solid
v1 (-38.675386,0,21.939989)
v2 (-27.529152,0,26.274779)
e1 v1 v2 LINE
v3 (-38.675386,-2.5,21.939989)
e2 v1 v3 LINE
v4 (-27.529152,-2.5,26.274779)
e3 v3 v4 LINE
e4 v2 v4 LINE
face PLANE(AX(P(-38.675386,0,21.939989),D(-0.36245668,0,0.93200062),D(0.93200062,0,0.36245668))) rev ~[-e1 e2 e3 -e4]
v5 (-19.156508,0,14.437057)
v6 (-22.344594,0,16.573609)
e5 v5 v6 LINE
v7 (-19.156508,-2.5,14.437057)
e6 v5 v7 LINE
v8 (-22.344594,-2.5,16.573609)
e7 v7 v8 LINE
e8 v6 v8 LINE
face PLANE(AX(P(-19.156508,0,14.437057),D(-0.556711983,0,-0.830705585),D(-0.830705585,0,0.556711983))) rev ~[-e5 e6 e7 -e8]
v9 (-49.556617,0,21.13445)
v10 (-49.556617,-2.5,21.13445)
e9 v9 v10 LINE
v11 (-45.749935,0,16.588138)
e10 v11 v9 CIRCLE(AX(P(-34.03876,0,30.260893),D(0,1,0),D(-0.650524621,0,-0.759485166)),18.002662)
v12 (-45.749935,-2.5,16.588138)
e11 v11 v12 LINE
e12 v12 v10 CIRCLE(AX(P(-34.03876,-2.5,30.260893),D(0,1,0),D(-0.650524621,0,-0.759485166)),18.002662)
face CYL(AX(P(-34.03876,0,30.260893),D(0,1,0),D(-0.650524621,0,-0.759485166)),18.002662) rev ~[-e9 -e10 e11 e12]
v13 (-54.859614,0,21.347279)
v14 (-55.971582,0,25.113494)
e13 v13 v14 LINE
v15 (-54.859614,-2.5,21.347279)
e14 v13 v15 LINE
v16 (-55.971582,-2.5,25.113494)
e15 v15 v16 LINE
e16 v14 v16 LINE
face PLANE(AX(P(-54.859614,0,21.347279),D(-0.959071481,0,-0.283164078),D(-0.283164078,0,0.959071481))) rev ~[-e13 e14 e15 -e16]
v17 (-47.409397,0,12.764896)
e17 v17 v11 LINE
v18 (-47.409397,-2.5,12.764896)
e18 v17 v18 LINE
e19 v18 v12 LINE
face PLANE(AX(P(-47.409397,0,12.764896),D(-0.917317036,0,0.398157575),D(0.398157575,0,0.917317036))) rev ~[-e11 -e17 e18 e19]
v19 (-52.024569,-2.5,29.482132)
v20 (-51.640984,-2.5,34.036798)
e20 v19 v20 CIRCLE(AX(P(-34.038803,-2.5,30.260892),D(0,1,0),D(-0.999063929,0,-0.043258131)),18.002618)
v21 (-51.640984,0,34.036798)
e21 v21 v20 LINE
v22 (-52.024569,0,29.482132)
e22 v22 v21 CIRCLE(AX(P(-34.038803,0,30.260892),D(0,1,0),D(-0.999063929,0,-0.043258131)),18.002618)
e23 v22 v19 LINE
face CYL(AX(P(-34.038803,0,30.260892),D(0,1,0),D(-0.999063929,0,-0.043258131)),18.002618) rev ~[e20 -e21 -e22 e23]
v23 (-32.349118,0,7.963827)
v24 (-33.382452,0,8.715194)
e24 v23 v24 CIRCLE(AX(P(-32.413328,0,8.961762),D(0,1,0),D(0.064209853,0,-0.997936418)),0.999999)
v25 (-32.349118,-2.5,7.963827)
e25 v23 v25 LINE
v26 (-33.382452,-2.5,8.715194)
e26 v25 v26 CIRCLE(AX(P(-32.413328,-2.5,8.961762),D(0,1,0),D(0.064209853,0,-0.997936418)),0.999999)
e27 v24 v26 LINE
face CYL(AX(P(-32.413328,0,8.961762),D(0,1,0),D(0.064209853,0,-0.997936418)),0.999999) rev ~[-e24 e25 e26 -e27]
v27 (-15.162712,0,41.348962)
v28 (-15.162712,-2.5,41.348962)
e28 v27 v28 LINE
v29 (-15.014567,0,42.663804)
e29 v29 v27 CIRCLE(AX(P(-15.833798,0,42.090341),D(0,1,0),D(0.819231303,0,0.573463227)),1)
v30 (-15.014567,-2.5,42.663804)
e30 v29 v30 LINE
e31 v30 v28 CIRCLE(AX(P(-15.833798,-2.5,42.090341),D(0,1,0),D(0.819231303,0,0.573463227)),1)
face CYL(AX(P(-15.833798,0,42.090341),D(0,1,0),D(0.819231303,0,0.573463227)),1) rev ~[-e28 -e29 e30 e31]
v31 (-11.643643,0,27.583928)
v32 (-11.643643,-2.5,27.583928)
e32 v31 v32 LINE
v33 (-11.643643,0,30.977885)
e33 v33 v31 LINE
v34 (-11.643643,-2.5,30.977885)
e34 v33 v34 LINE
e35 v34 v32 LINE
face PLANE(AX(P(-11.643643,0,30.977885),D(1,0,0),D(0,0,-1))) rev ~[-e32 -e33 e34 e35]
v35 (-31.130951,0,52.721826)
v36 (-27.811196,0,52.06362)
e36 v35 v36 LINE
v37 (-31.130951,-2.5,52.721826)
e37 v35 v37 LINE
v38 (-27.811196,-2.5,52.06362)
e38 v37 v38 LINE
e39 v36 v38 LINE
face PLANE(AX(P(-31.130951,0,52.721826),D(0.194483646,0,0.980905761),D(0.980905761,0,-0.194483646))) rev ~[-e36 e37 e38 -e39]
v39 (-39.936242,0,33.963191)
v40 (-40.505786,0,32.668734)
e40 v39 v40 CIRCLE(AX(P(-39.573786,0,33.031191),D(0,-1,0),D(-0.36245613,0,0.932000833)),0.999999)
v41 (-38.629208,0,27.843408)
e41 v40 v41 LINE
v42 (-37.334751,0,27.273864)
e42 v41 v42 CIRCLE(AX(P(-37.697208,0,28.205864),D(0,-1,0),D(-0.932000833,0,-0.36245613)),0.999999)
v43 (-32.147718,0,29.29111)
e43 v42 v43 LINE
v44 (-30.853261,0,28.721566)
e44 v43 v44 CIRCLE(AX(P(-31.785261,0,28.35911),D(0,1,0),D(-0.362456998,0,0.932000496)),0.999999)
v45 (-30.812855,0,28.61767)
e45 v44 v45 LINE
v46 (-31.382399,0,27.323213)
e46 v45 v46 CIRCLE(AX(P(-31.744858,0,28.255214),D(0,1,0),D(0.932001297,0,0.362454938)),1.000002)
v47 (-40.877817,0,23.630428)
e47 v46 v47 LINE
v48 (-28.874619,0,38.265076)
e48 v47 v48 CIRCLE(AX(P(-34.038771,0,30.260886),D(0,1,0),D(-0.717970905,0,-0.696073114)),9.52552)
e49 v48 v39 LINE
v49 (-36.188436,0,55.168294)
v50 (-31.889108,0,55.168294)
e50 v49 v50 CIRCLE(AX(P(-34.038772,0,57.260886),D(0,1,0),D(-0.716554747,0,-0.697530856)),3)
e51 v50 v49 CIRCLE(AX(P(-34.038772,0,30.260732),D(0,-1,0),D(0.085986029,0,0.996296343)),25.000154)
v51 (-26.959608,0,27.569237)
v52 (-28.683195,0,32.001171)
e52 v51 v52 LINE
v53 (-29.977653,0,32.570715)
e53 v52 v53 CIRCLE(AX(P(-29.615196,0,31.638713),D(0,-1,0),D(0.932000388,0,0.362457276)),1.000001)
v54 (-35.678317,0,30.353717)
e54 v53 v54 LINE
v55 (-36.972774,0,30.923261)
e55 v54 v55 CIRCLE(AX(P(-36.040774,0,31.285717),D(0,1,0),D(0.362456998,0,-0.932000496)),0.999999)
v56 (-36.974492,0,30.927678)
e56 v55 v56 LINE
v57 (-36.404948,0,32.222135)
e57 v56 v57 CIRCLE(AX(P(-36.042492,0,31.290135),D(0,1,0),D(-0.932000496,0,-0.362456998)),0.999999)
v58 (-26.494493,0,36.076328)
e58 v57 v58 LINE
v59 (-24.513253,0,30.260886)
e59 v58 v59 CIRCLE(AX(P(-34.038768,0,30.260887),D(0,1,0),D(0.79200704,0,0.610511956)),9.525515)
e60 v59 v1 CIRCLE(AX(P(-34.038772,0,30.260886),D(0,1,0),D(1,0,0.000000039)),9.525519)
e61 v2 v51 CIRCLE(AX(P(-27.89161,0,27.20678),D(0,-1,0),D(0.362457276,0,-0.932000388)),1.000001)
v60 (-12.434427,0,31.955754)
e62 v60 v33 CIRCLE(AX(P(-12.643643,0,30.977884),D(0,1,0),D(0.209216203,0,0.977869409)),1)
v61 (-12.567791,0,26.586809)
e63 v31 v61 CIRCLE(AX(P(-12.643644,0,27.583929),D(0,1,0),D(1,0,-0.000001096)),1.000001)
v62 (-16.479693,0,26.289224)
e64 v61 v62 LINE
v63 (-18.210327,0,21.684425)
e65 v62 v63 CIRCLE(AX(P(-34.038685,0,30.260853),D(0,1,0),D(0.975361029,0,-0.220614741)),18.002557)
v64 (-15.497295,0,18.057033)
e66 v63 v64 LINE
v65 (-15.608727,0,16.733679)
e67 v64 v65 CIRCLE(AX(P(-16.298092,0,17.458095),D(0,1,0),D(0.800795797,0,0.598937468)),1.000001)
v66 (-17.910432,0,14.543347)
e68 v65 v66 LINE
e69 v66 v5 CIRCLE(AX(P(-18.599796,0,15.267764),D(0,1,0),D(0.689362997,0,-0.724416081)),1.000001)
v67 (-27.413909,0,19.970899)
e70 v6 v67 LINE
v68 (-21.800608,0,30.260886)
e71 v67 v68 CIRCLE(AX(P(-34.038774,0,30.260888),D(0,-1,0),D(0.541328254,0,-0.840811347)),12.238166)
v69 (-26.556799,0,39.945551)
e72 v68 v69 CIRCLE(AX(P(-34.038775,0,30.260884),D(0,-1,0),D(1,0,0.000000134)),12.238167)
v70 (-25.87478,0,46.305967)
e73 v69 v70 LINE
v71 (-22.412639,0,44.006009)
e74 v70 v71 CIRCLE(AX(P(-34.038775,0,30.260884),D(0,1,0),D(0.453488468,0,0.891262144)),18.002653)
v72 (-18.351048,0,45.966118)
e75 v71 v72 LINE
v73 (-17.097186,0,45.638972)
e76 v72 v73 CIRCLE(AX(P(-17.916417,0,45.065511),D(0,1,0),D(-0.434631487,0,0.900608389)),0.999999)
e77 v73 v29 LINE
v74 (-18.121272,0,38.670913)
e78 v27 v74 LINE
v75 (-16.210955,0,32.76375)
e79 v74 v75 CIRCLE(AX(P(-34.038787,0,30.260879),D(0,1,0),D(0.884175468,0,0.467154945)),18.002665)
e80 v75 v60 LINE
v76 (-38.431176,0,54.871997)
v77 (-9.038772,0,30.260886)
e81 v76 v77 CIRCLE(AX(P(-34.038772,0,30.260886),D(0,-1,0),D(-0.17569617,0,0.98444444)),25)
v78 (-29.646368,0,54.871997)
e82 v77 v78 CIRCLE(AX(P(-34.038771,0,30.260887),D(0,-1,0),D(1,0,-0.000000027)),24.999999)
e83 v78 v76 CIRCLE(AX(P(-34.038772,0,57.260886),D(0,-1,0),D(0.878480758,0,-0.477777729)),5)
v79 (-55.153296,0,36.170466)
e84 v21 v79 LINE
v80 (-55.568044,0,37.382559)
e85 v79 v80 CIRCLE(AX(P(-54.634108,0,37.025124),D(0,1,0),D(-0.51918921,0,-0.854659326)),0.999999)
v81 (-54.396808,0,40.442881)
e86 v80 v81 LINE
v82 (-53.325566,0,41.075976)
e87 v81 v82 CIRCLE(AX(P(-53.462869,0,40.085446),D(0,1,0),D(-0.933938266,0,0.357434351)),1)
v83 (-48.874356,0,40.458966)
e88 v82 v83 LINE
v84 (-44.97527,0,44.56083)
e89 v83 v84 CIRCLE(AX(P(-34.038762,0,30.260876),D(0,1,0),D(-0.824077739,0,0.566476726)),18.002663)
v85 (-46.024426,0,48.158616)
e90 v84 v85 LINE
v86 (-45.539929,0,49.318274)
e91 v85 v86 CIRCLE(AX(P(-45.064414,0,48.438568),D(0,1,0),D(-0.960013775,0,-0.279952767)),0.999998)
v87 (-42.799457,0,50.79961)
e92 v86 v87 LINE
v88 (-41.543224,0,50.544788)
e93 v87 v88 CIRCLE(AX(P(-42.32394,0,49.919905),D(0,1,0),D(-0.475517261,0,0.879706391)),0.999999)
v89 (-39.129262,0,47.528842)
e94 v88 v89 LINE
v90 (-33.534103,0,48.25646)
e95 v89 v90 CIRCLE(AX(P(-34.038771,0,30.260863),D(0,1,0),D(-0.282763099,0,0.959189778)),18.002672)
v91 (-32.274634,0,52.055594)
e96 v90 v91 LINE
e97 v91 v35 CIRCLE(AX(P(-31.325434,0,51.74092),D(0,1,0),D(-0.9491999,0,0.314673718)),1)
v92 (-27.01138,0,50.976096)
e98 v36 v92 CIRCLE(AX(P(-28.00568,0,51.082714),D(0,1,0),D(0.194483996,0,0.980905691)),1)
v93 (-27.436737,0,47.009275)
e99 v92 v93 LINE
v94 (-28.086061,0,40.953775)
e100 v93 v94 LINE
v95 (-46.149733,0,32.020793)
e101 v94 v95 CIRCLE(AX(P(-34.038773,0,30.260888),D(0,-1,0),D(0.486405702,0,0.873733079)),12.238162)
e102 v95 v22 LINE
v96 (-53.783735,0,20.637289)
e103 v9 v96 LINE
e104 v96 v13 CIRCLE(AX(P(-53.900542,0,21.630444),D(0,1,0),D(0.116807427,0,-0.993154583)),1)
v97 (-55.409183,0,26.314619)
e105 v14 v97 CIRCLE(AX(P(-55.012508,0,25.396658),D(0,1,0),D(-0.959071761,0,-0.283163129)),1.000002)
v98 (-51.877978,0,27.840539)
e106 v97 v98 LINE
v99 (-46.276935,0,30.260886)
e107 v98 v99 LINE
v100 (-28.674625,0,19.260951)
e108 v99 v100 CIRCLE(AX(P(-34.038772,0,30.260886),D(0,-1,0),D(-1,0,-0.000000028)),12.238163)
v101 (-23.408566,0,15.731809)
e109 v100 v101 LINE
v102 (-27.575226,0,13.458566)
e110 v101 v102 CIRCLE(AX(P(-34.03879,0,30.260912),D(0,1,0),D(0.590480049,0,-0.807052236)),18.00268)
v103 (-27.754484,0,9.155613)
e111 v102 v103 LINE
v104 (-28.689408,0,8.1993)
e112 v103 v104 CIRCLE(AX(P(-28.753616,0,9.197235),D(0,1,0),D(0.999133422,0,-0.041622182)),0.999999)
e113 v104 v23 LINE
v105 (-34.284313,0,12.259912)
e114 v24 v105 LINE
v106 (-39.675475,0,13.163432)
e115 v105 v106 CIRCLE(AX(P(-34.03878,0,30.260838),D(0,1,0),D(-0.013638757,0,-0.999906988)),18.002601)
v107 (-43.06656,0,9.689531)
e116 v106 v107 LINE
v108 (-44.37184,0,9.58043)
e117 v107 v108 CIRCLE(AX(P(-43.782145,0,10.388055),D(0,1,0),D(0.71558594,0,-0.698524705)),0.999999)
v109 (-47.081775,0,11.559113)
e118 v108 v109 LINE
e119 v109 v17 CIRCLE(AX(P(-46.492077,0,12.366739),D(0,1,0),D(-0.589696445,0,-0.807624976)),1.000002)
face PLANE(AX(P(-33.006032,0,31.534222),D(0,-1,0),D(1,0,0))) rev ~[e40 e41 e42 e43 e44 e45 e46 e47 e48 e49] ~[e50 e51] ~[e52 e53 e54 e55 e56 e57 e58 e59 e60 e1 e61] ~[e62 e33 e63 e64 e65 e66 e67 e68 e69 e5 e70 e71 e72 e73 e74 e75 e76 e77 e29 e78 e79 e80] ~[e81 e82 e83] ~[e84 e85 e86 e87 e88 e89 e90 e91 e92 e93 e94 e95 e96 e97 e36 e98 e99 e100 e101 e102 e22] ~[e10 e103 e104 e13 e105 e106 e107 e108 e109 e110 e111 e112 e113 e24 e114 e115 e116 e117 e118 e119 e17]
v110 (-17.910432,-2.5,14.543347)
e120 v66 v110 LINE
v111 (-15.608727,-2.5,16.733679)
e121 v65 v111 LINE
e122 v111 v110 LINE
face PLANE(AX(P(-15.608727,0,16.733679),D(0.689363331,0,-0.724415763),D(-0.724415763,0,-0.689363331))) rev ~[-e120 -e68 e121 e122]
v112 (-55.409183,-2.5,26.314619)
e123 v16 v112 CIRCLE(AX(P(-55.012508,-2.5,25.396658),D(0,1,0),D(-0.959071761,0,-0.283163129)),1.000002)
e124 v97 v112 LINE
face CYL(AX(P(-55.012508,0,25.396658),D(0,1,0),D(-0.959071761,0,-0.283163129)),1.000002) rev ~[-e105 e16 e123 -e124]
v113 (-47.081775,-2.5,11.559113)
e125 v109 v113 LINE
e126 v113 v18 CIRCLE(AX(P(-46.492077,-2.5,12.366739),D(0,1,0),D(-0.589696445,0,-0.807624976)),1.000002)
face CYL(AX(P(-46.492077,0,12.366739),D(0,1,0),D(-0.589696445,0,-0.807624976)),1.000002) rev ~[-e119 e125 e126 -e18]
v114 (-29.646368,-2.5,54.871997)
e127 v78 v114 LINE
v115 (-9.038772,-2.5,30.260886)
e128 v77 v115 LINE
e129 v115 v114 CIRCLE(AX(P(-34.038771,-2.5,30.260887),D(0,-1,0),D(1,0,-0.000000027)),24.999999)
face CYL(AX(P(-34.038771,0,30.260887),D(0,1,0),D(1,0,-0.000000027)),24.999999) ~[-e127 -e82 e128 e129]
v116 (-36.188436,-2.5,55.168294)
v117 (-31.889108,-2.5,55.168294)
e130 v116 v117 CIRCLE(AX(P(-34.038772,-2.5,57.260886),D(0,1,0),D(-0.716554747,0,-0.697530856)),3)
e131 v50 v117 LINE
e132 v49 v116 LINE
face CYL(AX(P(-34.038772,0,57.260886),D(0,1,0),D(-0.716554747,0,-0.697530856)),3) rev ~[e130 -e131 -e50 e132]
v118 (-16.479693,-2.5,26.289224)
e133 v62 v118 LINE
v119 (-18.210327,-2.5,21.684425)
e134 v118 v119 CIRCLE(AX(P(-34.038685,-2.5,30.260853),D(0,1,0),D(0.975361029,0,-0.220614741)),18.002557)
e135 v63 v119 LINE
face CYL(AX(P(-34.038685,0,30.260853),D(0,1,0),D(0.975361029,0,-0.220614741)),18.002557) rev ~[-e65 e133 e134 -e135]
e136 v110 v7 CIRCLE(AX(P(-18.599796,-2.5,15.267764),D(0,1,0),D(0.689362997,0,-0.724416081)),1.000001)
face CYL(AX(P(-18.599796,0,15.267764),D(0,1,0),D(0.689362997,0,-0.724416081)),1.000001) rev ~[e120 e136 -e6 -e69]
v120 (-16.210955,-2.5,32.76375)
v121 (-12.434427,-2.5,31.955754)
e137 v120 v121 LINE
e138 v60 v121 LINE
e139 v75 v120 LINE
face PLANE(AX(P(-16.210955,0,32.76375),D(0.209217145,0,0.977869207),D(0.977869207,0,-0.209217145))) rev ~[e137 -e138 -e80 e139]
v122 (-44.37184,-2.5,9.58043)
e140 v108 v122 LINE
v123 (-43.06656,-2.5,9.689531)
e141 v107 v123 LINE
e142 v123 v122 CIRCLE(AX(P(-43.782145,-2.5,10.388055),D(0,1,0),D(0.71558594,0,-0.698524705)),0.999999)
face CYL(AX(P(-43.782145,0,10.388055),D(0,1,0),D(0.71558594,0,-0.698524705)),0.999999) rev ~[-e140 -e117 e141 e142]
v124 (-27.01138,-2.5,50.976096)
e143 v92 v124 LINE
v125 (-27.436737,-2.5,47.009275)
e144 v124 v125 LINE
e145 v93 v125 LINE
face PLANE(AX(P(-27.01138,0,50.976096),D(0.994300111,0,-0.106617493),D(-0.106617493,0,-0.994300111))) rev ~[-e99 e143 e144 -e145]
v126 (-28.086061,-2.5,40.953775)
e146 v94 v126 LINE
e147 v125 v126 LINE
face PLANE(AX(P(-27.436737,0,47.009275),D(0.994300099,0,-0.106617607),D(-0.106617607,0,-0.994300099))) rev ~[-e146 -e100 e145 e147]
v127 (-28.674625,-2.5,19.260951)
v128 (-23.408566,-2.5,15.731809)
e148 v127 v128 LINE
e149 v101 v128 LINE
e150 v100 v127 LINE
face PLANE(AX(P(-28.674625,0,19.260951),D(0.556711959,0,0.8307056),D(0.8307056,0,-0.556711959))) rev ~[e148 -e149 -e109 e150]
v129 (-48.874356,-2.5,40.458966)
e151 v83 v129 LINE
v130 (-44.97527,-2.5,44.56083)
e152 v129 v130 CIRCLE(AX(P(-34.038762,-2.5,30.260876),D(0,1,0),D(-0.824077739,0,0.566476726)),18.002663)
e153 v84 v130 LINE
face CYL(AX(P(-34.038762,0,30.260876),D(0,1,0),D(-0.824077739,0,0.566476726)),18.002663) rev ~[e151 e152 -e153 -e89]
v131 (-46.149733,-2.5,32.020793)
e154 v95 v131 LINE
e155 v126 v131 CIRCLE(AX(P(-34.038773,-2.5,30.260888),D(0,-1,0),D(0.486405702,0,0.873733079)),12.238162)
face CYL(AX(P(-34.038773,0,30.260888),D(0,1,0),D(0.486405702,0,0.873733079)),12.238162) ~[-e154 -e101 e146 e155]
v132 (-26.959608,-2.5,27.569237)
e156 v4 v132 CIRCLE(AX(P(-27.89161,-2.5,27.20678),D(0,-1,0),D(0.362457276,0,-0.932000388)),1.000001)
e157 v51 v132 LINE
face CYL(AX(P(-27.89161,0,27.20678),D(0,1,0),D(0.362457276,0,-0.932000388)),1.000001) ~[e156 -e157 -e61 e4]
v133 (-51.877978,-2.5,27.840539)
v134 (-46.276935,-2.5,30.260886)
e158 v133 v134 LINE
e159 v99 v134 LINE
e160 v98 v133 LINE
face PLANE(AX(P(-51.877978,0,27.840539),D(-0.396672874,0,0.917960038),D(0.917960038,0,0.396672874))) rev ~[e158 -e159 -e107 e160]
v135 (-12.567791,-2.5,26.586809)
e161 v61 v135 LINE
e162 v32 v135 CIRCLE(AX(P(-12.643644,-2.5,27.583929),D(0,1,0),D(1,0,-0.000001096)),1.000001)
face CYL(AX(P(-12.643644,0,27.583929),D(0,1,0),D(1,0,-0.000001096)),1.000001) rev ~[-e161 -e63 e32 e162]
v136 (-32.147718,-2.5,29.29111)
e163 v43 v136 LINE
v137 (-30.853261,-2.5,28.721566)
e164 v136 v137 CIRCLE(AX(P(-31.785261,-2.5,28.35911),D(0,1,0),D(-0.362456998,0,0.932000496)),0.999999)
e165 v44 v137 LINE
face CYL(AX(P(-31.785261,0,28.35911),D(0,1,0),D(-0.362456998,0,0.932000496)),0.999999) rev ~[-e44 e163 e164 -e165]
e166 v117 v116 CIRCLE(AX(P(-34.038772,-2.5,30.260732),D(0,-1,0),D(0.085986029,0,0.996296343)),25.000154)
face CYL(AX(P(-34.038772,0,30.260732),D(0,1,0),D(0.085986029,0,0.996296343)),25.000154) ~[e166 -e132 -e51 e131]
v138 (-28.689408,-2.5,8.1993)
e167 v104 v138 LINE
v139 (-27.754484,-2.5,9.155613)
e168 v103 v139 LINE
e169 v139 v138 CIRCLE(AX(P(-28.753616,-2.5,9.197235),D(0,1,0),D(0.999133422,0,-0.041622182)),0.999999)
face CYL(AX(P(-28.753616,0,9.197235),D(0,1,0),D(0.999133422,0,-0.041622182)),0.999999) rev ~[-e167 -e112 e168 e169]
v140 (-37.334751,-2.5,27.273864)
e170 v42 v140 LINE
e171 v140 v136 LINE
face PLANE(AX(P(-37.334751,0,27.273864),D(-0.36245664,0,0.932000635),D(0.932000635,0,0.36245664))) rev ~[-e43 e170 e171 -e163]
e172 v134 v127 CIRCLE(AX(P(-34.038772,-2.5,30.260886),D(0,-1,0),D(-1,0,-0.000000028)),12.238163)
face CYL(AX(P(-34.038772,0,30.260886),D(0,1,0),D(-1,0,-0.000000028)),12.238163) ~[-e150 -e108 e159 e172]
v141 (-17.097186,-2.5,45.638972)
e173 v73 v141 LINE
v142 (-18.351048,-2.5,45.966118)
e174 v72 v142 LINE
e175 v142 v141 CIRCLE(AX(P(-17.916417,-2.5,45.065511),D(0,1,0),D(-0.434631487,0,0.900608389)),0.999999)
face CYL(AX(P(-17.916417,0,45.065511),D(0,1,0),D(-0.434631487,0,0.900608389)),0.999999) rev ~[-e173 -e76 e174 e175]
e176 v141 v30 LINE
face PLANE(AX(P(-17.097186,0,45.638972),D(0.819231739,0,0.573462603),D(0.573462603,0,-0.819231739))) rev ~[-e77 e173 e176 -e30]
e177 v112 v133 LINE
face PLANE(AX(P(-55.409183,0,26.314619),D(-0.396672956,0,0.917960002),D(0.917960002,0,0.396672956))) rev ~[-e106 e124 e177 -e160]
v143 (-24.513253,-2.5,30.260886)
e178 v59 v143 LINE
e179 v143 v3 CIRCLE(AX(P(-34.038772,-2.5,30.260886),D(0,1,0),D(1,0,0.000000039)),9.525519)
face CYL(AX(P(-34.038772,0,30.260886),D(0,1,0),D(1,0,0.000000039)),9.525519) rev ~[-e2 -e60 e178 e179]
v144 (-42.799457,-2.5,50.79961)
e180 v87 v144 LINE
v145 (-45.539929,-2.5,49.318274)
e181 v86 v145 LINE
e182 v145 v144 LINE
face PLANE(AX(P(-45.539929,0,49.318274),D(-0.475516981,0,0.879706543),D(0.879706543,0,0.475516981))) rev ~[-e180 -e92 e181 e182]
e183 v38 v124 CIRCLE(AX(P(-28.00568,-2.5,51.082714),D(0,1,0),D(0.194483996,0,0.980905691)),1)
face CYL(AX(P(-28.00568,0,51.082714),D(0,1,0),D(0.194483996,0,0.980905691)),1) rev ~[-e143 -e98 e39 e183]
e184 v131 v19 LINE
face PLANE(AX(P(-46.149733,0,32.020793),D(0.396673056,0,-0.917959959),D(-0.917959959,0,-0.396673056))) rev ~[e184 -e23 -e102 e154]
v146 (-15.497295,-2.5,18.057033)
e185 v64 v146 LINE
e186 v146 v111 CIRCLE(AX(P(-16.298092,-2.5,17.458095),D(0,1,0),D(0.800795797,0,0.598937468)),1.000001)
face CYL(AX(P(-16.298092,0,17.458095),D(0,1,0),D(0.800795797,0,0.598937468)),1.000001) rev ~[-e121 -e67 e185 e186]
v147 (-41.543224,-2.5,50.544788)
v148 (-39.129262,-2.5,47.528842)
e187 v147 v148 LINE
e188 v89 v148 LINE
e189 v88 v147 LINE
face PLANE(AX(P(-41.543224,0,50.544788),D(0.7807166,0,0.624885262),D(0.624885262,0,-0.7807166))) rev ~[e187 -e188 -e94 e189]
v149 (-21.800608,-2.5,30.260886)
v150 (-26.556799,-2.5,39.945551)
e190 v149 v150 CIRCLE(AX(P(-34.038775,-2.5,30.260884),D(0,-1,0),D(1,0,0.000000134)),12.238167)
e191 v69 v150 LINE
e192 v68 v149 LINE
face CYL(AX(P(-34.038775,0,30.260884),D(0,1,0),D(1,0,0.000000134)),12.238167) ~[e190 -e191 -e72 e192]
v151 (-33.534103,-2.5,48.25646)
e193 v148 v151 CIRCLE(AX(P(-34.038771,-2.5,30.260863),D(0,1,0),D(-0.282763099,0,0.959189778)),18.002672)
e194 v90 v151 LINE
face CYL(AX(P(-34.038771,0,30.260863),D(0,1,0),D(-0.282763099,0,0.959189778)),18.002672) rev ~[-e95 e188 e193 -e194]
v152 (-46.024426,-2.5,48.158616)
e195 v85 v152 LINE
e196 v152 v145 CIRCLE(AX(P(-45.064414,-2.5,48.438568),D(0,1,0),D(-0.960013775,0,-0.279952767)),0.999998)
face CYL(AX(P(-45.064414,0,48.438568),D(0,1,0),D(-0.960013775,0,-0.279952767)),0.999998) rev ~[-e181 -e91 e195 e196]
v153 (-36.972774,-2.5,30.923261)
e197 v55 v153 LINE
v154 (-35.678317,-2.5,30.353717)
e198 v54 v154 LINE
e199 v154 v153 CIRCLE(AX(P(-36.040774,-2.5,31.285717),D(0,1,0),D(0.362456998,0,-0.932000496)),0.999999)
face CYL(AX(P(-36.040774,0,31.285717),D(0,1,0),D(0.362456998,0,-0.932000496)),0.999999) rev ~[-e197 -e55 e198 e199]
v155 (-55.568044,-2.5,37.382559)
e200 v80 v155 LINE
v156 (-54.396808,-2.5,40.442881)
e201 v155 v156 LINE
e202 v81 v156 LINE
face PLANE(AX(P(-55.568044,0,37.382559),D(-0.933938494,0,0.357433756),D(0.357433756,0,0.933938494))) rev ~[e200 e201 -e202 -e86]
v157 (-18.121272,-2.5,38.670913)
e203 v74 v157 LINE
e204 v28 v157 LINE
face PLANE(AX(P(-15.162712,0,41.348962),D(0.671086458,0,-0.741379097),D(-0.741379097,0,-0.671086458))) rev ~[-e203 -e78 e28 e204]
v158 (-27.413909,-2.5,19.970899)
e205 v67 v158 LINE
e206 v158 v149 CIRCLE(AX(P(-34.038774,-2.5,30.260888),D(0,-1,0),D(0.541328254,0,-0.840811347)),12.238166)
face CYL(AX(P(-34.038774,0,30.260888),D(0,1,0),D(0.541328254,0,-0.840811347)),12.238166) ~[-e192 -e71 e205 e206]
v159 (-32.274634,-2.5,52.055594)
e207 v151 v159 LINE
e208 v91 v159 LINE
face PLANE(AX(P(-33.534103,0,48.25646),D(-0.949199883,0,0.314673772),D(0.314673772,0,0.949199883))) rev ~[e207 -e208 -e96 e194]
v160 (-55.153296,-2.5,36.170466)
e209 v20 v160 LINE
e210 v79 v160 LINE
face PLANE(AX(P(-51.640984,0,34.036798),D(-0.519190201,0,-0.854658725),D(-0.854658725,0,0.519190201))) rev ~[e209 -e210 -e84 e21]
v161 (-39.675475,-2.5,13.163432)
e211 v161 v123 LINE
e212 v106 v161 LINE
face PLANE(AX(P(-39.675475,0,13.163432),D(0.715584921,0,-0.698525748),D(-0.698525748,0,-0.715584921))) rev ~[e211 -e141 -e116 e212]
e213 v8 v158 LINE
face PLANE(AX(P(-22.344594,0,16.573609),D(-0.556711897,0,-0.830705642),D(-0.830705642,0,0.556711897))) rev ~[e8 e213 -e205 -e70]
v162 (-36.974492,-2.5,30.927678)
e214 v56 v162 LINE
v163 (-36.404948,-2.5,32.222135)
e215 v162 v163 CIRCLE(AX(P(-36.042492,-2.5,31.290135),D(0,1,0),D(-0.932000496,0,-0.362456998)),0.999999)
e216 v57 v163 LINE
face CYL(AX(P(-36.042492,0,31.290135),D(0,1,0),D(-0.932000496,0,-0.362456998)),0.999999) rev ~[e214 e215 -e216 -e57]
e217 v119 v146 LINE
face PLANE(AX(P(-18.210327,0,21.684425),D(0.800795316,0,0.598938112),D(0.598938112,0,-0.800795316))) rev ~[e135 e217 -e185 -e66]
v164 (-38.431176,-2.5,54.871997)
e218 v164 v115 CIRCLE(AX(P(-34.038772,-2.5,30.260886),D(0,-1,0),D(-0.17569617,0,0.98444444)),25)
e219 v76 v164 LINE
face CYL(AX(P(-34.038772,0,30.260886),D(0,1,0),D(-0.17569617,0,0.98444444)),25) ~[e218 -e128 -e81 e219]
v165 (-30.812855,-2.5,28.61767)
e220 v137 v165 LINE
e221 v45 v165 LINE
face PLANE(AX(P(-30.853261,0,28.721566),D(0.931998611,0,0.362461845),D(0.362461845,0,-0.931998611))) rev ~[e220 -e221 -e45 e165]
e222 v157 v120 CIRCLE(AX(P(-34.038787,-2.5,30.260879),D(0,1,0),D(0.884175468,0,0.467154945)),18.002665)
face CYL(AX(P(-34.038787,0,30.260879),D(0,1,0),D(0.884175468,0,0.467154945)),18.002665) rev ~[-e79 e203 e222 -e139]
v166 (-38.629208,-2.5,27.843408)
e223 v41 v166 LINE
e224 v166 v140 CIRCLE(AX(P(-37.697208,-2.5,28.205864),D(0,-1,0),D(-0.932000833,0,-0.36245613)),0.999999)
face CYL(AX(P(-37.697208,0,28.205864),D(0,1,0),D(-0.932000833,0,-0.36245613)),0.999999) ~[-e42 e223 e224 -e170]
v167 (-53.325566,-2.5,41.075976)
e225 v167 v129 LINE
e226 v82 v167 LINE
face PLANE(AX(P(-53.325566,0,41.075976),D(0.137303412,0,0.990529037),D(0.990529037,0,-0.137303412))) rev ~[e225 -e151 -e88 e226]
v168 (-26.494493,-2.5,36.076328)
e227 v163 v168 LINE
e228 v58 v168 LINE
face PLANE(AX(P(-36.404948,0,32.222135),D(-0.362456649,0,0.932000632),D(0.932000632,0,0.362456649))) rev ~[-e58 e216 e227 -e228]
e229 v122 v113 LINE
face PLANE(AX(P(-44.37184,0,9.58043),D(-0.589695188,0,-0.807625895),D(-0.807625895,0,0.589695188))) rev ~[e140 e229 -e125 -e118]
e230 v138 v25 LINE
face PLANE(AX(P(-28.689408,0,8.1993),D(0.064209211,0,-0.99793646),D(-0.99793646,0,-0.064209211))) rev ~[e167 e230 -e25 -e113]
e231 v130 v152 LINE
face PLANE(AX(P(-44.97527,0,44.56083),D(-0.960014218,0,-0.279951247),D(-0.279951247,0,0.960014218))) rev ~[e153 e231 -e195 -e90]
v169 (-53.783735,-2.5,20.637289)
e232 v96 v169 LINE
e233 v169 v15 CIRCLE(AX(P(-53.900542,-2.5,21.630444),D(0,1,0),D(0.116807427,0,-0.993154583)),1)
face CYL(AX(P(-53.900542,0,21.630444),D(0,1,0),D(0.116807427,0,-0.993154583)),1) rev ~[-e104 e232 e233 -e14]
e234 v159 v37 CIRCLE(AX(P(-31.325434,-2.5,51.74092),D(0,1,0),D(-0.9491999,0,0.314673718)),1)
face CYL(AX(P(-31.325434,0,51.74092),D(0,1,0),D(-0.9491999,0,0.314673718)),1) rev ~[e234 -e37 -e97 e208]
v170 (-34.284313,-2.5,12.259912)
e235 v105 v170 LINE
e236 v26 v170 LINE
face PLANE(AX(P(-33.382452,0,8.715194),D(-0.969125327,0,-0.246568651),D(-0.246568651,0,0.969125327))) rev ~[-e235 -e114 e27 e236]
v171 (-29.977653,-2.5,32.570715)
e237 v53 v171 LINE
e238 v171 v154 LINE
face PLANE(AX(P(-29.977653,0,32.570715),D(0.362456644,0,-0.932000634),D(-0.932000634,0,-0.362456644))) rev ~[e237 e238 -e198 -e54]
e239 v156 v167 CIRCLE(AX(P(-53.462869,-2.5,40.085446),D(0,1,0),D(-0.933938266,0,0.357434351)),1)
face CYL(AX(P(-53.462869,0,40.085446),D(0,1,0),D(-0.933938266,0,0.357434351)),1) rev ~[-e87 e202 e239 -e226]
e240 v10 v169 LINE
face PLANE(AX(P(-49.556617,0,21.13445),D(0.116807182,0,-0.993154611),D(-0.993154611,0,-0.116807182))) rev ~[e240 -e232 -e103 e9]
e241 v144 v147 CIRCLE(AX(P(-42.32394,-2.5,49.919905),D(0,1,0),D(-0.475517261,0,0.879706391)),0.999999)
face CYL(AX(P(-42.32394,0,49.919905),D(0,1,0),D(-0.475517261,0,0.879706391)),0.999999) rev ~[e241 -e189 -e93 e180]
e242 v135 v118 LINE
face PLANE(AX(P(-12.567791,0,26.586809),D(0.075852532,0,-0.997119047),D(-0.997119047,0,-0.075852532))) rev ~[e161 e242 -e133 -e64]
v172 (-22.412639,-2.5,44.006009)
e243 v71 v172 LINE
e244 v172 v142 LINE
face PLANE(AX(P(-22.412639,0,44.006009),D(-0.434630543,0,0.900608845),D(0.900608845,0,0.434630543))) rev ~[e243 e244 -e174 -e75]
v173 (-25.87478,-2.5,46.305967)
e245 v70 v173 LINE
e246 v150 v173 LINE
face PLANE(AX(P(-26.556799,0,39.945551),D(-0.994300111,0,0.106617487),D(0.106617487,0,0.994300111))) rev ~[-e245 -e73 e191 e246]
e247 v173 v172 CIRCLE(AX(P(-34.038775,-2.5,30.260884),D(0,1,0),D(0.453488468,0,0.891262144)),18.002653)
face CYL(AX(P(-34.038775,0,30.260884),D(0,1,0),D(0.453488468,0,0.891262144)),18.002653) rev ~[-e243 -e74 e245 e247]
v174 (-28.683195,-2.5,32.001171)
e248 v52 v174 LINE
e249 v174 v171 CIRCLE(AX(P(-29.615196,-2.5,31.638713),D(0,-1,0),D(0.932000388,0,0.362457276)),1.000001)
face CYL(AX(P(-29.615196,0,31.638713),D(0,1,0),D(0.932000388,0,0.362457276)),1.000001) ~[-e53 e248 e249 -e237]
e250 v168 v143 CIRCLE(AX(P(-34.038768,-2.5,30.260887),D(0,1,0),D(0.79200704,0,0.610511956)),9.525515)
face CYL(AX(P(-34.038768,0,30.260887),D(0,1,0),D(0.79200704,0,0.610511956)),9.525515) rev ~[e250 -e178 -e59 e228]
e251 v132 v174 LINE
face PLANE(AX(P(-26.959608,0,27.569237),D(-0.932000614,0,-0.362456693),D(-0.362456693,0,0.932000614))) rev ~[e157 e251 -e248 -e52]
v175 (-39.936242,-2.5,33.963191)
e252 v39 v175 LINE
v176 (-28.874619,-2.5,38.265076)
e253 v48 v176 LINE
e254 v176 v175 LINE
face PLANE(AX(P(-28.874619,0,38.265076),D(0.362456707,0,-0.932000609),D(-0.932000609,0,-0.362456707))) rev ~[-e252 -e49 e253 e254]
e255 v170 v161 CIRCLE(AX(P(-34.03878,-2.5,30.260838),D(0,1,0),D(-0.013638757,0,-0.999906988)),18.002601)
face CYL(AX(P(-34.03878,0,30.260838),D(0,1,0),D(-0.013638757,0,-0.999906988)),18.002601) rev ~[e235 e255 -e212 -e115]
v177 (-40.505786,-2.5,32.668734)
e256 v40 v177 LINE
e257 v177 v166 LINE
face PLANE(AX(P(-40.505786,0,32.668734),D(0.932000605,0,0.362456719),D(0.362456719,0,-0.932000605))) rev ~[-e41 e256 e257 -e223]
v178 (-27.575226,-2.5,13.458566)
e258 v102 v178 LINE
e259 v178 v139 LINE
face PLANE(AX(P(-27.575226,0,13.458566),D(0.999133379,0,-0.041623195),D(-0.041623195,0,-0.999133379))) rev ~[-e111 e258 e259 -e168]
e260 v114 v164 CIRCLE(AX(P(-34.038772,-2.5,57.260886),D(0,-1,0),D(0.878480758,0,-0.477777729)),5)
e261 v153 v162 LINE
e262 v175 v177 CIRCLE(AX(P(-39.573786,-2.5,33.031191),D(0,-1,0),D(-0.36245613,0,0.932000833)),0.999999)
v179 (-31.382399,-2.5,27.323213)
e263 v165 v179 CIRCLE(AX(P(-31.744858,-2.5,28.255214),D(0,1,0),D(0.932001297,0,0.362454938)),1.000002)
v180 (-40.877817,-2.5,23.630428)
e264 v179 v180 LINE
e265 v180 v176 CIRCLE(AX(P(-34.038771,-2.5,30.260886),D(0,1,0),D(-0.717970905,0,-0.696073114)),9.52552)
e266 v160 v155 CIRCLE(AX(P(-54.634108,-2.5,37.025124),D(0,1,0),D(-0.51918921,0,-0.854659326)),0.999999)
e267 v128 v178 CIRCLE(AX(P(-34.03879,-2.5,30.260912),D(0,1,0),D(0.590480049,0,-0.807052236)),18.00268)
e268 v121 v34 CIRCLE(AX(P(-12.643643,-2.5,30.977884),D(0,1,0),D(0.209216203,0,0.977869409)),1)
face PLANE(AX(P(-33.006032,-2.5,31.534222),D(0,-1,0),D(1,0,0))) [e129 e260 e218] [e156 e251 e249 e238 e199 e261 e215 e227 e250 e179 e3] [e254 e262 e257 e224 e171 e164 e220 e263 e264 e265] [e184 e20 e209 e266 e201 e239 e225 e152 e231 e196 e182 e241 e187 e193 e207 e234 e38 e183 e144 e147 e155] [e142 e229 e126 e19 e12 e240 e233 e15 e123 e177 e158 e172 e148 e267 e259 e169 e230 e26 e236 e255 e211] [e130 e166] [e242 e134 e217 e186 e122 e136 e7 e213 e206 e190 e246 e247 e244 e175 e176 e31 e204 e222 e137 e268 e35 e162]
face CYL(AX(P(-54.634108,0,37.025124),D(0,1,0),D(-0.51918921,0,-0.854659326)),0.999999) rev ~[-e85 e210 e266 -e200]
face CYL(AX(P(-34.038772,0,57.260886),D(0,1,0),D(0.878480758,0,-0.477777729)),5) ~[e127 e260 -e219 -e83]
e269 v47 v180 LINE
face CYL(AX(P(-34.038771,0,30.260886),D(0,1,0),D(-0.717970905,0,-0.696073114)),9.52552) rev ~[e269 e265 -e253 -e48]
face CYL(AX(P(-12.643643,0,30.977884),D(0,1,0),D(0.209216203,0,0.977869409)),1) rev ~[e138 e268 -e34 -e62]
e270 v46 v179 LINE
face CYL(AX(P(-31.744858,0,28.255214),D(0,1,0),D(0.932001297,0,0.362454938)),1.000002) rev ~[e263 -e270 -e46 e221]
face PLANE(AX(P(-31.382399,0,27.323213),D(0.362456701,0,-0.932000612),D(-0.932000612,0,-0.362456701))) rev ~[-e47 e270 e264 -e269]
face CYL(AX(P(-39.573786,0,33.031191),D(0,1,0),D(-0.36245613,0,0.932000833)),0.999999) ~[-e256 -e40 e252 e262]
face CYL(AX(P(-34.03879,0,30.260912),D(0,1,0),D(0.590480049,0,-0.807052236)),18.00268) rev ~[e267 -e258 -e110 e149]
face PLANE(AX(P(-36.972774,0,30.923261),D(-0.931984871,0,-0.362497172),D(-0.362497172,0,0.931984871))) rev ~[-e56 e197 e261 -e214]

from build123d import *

# Parameters (mm, degrees)
F1_DEPTH = 2.5


with BuildPart() as f1:
    # F0 (on Front) → F1 (new body)
    with BuildSketch(Plane.XZ):
        with BuildLine():
            ThreePointArc((-38.431176, 54.871997), (-50.088537, 11.093074), (-9.038772, 30.260886))
            ThreePointArc((-9.038772, 30.260886), (-14.870959, 46.310651), (-29.646368, 54.871997))
            ThreePointArc((-29.646368, 54.871997), (-30.764385, 55.045527), (-31.889108, 55.168294))
            ThreePointArc((-31.889108, 55.168294), (-34.038772, 55.260886), (-36.188436, 55.168294))
            ThreePointArc((-36.188436, 55.168294), (-37.313159, 55.045527), (-38.431176, 54.871997))
        make_face()
        with BuildLine():
            ThreePointArc((-27.436737, 47.009275), (-26.647389, 46.676209), (-25.87478, 46.305967))
            ThreePointArc((-25.87478, 46.305967), (-24.07711, 45.256241), (-22.412639, 44.006009))
            Line((-22.412639, 44.006009), (-18.351048, 45.966118))
            ThreePointArc((-18.351048, 45.966118), (-17.663958, 46.033117), (-17.097186, 45.638972))
            Line((-17.097186, 45.638972), (-15.014567, 42.663804))
            ThreePointArc((-15.014567, 42.663804), (-14.840086, 41.978378), (-15.162712, 41.348962))
            Line((-15.162712, 41.348962), (-18.121272, 38.670913))
            ThreePointArc((-18.121272, 38.670913), (-16.90955, 35.800301), (-16.210955, 32.76375))
            Line((-16.210955, 32.76375), (-12.434427, 31.955754))
            ThreePointArc((-12.434427, 31.955754), (-11.866078, 31.606687), (-11.643643, 30.977885))
            Line((-11.643643, 30.977885), (-11.643643, 27.583928))
            ThreePointArc((-11.643643, 27.583928), (-11.910209, 26.904168), (-12.567791, 26.586809))
            Line((-12.567791, 26.586809), (-16.479693, 26.289224))
            ThreePointArc((-16.479693, 26.289224), (-17.186984, 23.927433), (-18.210327, 21.684425))
            Line((-18.210327, 21.684425), (-15.497295, 18.057033))
            ThreePointArc((-15.497295, 18.057033), (-15.301617, 17.374188), (-15.608727, 16.733679))
            Line((-15.608727, 16.733679), (-17.910432, 14.543347))
            ThreePointArc((-17.910432, 14.543347), (-18.514805, 14.271381), (-19.156508, 14.437057))
            Line((-19.156508, 14.437057), (-22.344594, 16.573609))
            ThreePointArc((-22.344594, 16.573609), (-22.868647, 16.142682), (-23.408566, 15.731809))
            ThreePointArc((-23.408566, 15.731809), (-25.41665, 14.457267), (-27.575226, 13.458566))
            Line((-27.575226, 13.458566), (-27.754484, 9.155613))
            ThreePointArc((-27.754484, 9.155613), (-28.038559, 8.498171), (-28.689408, 8.1993))
            Line((-28.689408, 8.1993), (-32.349118, 7.963827))
            ThreePointArc((-32.349118, 7.963827), (-33.001423, 8.152972), (-33.382452, 8.715194))
            Line((-33.382452, 8.715194), (-34.284313, 12.259912))
            ThreePointArc((-34.284313, 12.259912), (-37.014387, 12.505856), (-39.675475, 13.163432))
            Line((-39.675475, 13.163432), (-43.06656, 9.689531))
            ThreePointArc((-43.06656, 9.689531), (-43.698851, 9.391531), (-44.37184, 9.58043))
            Line((-44.37184, 9.58043), (-47.081775, 11.559113))
            ThreePointArc((-47.081775, 11.559113), (-47.457092, 12.104536), (-47.409397, 12.764896))
            Line((-47.409397, 12.764896), (-45.749935, 16.588138))
            ThreePointArc((-45.749935, 16.588138), (-47.841741, 18.70349), (-49.556617, 21.13445))
            Line((-49.556617, 21.13445), (-53.783735, 20.637289))
            ThreePointArc((-53.783735, 20.637289), (-54.451336, 20.795802), (-54.859614, 21.347279))
            Line((-54.859614, 21.347279), (-55.971582, 25.113494))
            ThreePointArc((-55.971582, 25.113494), (-55.918151, 25.820704), (-55.409183, 26.314619))
            Line((-55.409183, 26.314619), (-51.877978, 27.840539))
            ThreePointArc((-51.877978, 27.840539), (-51.97007, 28.659657), (-52.024569, 29.482132))
            ThreePointArc((-52.024569, 29.482132), (-51.977915, 31.771688), (-51.640984, 34.036798))
            Line((-51.640984, 34.036798), (-55.153296, 36.170466))
            ThreePointArc((-55.153296, 36.170466), (-55.58025, 36.701378), (-55.568044, 37.382559))
            Line((-55.568044, 37.382559), (-54.396808, 40.442881))
            ThreePointArc((-54.396808, 40.442881), (-53.971652, 40.946342), (-53.325566, 41.075976))
            Line((-53.325566, 41.075976), (-48.874356, 40.458966))
            ThreePointArc((-48.874356, 40.458966), (-47.087004, 42.664072), (-44.97527, 44.56083))
            Line((-44.97527, 44.56083), (-46.024426, 48.158616))
            ThreePointArc((-46.024426, 48.158616), (-45.98712, 48.824068), (-45.539929, 49.318274))
            Line((-45.539929, 49.318274), (-42.799457, 50.79961))
            ThreePointArc((-42.799457, 50.79961), (-42.125143, 50.899944), (-41.543224, 50.544788))
            Line((-41.543224, 50.544788), (-39.129262, 47.528842))
            ThreePointArc((-39.129262, 47.528842), (-36.360365, 48.113213), (-33.534103, 48.25646))
            Line((-33.534103, 48.25646), (-32.274634, 52.055594))
            ThreePointArc((-32.274634, 52.055594), (-31.828789, 52.605), (-31.130951, 52.721826))
            Line((-31.130951, 52.721826), (-27.811196, 52.06362))
            ThreePointArc((-27.811196, 52.06362), (-27.200088, 51.675185), (-27.01138, 50.976096))
            Line((-27.01138, 50.976096), (-27.436737, 47.009275))
        make_face(mode=Mode.SUBTRACT)
        with BuildLine():
            ThreePointArc((-31.889108, 55.168294), (-30.764385, 55.045527), (-29.646368, 54.871997))
            ThreePointArc((-29.646368, 54.871997), (-34.038772, 62.260886), (-38.431176, 54.871997))
            ThreePointArc((-38.431176, 54.871997), (-37.313159, 55.045527), (-36.188436, 55.168294))
            ThreePointArc((-36.188436, 55.168294), (-34.038772, 60.260886), (-31.889108, 55.168294))
        make_face()
        with BuildLine():
            ThreePointArc((-27.413909, 19.970899), (-23.295197, 24.400149), (-21.800608, 30.260886))
            ThreePointArc((-21.800608, 30.260886), (-23.053822, 35.655654), (-26.556799, 39.945551))
            ThreePointArc((-26.556799, 39.945551), (-27.302541, 40.478314), (-28.086061, 40.953775))
            ThreePointArc((-28.086061, 40.953775), (-39.463766, 41.230941), (-46.149733, 32.020793))
            ThreePointArc((-46.149733, 32.020793), (-46.245093, 31.143135), (-46.276935, 30.260886))
            ThreePointArc((-46.276935, 30.260886), (-40.524346, 19.882545), (-28.674625, 19.260951))
            ThreePointArc((-28.674625, 19.260951), (-28.033766, 19.597278), (-27.413909, 19.970899))
        make_face()
        with BuildLine():
            ThreePointArc((-26.494493, 36.076328), (-25.022157, 33.332721), (-24.513253, 30.260886))
            ThreePointArc((-24.513253, 30.260886), (-29.213352, 22.04804), (-38.675386, 21.939989))
            ThreePointArc((-38.675386, 21.939989), (-39.838521, 22.704536), (-40.877817, 23.630428))
            ThreePointArc((-40.877817, 23.630428), (-41.403861, 36.301662), (-28.874619, 38.265076))
            ThreePointArc((-28.874619, 38.265076), (-27.591004, 37.272434), (-26.494493, 36.076328))
        make_face(mode=Mode.SUBTRACT)
        with BuildLine():
            ThreePointArc((-46.276935, 30.260886), (-46.245093, 31.143135), (-46.149733, 32.020793))
            Line((-46.149733, 32.020793), (-52.024569, 29.482132))
            ThreePointArc((-52.024569, 29.482132), (-51.97007, 28.659657), (-51.877978, 27.840539))
            Line((-51.877978, 27.840539), (-46.276935, 30.260886))
        make_face()
        with BuildLine():
            Line((-22.344594, 16.573609), (-27.413909, 19.970899))
            ThreePointArc((-27.413909, 19.970899), (-28.033766, 19.597278), (-28.674625, 19.260951))
            Line((-28.674625, 19.260951), (-23.408566, 15.731809))
            ThreePointArc((-23.408566, 15.731809), (-22.868647, 16.142682), (-22.344594, 16.573609))
        make_face()
        with BuildLine():
            ThreePointArc((-28.086061, 40.953775), (-27.302541, 40.478314), (-26.556799, 39.945551))
            Line((-26.556799, 39.945551), (-25.87478, 46.305967))
            ThreePointArc((-25.87478, 46.305967), (-26.647389, 46.676209), (-27.436737, 47.009275))
            Line((-27.436737, 47.009275), (-28.086061, 40.953775))
        make_face()
        with BuildLine():
            Line((-36.404948, 32.222135), (-26.494493, 36.076328))
            ThreePointArc((-26.494493, 36.076328), (-27.591004, 37.272434), (-28.874619, 38.265076))
            Line((-28.874619, 38.265076), (-39.936242, 33.963191))
            ThreePointArc((-39.936242, 33.963191), (-40.489105, 33.433919), (-40.505786, 32.668734))
            Line((-40.505786, 32.668734), (-38.629208, 27.843408))
            ThreePointArc((-38.629208, 27.843408), (-38.099936, 27.290545), (-37.334751, 27.273864))
            Line((-37.334751, 27.273864), (-32.147718, 29.29111))
            ThreePointArc((-32.147718, 29.29111), (-31.382533, 29.274429), (-30.853261, 28.721566))
            Line((-30.853261, 28.721566), (-30.812855, 28.61767))
            ThreePointArc((-30.812855, 28.61767), (-30.829537, 27.852485), (-31.382399, 27.323213))
            Line((-31.382399, 27.323213), (-40.877817, 23.630428))
            ThreePointArc((-40.877817, 23.630428), (-39.838521, 22.704536), (-38.675386, 21.939989))
            Line((-38.675386, 21.939989), (-27.529152, 26.274779))
            ThreePointArc((-27.529152, 26.274779), (-26.976289, 26.804052), (-26.959608, 27.569237))
            Line((-26.959608, 27.569237), (-28.683195, 32.001171))
            ThreePointArc((-28.683195, 32.001171), (-29.212468, 32.554034), (-29.977653, 32.570715))
            Line((-29.977653, 32.570715), (-35.678317, 30.353717))
            ThreePointArc((-35.678317, 30.353717), (-36.443502, 30.370398), (-36.972774, 30.923261))
            Line((-36.972774, 30.923261), (-36.974492, 30.927678))
            ThreePointArc((-36.974492, 30.927678), (-36.957811, 31.692863), (-36.404948, 32.222135))
        make_face()
    extrude(amount=F1_DEPTH)


solid = f1.part
